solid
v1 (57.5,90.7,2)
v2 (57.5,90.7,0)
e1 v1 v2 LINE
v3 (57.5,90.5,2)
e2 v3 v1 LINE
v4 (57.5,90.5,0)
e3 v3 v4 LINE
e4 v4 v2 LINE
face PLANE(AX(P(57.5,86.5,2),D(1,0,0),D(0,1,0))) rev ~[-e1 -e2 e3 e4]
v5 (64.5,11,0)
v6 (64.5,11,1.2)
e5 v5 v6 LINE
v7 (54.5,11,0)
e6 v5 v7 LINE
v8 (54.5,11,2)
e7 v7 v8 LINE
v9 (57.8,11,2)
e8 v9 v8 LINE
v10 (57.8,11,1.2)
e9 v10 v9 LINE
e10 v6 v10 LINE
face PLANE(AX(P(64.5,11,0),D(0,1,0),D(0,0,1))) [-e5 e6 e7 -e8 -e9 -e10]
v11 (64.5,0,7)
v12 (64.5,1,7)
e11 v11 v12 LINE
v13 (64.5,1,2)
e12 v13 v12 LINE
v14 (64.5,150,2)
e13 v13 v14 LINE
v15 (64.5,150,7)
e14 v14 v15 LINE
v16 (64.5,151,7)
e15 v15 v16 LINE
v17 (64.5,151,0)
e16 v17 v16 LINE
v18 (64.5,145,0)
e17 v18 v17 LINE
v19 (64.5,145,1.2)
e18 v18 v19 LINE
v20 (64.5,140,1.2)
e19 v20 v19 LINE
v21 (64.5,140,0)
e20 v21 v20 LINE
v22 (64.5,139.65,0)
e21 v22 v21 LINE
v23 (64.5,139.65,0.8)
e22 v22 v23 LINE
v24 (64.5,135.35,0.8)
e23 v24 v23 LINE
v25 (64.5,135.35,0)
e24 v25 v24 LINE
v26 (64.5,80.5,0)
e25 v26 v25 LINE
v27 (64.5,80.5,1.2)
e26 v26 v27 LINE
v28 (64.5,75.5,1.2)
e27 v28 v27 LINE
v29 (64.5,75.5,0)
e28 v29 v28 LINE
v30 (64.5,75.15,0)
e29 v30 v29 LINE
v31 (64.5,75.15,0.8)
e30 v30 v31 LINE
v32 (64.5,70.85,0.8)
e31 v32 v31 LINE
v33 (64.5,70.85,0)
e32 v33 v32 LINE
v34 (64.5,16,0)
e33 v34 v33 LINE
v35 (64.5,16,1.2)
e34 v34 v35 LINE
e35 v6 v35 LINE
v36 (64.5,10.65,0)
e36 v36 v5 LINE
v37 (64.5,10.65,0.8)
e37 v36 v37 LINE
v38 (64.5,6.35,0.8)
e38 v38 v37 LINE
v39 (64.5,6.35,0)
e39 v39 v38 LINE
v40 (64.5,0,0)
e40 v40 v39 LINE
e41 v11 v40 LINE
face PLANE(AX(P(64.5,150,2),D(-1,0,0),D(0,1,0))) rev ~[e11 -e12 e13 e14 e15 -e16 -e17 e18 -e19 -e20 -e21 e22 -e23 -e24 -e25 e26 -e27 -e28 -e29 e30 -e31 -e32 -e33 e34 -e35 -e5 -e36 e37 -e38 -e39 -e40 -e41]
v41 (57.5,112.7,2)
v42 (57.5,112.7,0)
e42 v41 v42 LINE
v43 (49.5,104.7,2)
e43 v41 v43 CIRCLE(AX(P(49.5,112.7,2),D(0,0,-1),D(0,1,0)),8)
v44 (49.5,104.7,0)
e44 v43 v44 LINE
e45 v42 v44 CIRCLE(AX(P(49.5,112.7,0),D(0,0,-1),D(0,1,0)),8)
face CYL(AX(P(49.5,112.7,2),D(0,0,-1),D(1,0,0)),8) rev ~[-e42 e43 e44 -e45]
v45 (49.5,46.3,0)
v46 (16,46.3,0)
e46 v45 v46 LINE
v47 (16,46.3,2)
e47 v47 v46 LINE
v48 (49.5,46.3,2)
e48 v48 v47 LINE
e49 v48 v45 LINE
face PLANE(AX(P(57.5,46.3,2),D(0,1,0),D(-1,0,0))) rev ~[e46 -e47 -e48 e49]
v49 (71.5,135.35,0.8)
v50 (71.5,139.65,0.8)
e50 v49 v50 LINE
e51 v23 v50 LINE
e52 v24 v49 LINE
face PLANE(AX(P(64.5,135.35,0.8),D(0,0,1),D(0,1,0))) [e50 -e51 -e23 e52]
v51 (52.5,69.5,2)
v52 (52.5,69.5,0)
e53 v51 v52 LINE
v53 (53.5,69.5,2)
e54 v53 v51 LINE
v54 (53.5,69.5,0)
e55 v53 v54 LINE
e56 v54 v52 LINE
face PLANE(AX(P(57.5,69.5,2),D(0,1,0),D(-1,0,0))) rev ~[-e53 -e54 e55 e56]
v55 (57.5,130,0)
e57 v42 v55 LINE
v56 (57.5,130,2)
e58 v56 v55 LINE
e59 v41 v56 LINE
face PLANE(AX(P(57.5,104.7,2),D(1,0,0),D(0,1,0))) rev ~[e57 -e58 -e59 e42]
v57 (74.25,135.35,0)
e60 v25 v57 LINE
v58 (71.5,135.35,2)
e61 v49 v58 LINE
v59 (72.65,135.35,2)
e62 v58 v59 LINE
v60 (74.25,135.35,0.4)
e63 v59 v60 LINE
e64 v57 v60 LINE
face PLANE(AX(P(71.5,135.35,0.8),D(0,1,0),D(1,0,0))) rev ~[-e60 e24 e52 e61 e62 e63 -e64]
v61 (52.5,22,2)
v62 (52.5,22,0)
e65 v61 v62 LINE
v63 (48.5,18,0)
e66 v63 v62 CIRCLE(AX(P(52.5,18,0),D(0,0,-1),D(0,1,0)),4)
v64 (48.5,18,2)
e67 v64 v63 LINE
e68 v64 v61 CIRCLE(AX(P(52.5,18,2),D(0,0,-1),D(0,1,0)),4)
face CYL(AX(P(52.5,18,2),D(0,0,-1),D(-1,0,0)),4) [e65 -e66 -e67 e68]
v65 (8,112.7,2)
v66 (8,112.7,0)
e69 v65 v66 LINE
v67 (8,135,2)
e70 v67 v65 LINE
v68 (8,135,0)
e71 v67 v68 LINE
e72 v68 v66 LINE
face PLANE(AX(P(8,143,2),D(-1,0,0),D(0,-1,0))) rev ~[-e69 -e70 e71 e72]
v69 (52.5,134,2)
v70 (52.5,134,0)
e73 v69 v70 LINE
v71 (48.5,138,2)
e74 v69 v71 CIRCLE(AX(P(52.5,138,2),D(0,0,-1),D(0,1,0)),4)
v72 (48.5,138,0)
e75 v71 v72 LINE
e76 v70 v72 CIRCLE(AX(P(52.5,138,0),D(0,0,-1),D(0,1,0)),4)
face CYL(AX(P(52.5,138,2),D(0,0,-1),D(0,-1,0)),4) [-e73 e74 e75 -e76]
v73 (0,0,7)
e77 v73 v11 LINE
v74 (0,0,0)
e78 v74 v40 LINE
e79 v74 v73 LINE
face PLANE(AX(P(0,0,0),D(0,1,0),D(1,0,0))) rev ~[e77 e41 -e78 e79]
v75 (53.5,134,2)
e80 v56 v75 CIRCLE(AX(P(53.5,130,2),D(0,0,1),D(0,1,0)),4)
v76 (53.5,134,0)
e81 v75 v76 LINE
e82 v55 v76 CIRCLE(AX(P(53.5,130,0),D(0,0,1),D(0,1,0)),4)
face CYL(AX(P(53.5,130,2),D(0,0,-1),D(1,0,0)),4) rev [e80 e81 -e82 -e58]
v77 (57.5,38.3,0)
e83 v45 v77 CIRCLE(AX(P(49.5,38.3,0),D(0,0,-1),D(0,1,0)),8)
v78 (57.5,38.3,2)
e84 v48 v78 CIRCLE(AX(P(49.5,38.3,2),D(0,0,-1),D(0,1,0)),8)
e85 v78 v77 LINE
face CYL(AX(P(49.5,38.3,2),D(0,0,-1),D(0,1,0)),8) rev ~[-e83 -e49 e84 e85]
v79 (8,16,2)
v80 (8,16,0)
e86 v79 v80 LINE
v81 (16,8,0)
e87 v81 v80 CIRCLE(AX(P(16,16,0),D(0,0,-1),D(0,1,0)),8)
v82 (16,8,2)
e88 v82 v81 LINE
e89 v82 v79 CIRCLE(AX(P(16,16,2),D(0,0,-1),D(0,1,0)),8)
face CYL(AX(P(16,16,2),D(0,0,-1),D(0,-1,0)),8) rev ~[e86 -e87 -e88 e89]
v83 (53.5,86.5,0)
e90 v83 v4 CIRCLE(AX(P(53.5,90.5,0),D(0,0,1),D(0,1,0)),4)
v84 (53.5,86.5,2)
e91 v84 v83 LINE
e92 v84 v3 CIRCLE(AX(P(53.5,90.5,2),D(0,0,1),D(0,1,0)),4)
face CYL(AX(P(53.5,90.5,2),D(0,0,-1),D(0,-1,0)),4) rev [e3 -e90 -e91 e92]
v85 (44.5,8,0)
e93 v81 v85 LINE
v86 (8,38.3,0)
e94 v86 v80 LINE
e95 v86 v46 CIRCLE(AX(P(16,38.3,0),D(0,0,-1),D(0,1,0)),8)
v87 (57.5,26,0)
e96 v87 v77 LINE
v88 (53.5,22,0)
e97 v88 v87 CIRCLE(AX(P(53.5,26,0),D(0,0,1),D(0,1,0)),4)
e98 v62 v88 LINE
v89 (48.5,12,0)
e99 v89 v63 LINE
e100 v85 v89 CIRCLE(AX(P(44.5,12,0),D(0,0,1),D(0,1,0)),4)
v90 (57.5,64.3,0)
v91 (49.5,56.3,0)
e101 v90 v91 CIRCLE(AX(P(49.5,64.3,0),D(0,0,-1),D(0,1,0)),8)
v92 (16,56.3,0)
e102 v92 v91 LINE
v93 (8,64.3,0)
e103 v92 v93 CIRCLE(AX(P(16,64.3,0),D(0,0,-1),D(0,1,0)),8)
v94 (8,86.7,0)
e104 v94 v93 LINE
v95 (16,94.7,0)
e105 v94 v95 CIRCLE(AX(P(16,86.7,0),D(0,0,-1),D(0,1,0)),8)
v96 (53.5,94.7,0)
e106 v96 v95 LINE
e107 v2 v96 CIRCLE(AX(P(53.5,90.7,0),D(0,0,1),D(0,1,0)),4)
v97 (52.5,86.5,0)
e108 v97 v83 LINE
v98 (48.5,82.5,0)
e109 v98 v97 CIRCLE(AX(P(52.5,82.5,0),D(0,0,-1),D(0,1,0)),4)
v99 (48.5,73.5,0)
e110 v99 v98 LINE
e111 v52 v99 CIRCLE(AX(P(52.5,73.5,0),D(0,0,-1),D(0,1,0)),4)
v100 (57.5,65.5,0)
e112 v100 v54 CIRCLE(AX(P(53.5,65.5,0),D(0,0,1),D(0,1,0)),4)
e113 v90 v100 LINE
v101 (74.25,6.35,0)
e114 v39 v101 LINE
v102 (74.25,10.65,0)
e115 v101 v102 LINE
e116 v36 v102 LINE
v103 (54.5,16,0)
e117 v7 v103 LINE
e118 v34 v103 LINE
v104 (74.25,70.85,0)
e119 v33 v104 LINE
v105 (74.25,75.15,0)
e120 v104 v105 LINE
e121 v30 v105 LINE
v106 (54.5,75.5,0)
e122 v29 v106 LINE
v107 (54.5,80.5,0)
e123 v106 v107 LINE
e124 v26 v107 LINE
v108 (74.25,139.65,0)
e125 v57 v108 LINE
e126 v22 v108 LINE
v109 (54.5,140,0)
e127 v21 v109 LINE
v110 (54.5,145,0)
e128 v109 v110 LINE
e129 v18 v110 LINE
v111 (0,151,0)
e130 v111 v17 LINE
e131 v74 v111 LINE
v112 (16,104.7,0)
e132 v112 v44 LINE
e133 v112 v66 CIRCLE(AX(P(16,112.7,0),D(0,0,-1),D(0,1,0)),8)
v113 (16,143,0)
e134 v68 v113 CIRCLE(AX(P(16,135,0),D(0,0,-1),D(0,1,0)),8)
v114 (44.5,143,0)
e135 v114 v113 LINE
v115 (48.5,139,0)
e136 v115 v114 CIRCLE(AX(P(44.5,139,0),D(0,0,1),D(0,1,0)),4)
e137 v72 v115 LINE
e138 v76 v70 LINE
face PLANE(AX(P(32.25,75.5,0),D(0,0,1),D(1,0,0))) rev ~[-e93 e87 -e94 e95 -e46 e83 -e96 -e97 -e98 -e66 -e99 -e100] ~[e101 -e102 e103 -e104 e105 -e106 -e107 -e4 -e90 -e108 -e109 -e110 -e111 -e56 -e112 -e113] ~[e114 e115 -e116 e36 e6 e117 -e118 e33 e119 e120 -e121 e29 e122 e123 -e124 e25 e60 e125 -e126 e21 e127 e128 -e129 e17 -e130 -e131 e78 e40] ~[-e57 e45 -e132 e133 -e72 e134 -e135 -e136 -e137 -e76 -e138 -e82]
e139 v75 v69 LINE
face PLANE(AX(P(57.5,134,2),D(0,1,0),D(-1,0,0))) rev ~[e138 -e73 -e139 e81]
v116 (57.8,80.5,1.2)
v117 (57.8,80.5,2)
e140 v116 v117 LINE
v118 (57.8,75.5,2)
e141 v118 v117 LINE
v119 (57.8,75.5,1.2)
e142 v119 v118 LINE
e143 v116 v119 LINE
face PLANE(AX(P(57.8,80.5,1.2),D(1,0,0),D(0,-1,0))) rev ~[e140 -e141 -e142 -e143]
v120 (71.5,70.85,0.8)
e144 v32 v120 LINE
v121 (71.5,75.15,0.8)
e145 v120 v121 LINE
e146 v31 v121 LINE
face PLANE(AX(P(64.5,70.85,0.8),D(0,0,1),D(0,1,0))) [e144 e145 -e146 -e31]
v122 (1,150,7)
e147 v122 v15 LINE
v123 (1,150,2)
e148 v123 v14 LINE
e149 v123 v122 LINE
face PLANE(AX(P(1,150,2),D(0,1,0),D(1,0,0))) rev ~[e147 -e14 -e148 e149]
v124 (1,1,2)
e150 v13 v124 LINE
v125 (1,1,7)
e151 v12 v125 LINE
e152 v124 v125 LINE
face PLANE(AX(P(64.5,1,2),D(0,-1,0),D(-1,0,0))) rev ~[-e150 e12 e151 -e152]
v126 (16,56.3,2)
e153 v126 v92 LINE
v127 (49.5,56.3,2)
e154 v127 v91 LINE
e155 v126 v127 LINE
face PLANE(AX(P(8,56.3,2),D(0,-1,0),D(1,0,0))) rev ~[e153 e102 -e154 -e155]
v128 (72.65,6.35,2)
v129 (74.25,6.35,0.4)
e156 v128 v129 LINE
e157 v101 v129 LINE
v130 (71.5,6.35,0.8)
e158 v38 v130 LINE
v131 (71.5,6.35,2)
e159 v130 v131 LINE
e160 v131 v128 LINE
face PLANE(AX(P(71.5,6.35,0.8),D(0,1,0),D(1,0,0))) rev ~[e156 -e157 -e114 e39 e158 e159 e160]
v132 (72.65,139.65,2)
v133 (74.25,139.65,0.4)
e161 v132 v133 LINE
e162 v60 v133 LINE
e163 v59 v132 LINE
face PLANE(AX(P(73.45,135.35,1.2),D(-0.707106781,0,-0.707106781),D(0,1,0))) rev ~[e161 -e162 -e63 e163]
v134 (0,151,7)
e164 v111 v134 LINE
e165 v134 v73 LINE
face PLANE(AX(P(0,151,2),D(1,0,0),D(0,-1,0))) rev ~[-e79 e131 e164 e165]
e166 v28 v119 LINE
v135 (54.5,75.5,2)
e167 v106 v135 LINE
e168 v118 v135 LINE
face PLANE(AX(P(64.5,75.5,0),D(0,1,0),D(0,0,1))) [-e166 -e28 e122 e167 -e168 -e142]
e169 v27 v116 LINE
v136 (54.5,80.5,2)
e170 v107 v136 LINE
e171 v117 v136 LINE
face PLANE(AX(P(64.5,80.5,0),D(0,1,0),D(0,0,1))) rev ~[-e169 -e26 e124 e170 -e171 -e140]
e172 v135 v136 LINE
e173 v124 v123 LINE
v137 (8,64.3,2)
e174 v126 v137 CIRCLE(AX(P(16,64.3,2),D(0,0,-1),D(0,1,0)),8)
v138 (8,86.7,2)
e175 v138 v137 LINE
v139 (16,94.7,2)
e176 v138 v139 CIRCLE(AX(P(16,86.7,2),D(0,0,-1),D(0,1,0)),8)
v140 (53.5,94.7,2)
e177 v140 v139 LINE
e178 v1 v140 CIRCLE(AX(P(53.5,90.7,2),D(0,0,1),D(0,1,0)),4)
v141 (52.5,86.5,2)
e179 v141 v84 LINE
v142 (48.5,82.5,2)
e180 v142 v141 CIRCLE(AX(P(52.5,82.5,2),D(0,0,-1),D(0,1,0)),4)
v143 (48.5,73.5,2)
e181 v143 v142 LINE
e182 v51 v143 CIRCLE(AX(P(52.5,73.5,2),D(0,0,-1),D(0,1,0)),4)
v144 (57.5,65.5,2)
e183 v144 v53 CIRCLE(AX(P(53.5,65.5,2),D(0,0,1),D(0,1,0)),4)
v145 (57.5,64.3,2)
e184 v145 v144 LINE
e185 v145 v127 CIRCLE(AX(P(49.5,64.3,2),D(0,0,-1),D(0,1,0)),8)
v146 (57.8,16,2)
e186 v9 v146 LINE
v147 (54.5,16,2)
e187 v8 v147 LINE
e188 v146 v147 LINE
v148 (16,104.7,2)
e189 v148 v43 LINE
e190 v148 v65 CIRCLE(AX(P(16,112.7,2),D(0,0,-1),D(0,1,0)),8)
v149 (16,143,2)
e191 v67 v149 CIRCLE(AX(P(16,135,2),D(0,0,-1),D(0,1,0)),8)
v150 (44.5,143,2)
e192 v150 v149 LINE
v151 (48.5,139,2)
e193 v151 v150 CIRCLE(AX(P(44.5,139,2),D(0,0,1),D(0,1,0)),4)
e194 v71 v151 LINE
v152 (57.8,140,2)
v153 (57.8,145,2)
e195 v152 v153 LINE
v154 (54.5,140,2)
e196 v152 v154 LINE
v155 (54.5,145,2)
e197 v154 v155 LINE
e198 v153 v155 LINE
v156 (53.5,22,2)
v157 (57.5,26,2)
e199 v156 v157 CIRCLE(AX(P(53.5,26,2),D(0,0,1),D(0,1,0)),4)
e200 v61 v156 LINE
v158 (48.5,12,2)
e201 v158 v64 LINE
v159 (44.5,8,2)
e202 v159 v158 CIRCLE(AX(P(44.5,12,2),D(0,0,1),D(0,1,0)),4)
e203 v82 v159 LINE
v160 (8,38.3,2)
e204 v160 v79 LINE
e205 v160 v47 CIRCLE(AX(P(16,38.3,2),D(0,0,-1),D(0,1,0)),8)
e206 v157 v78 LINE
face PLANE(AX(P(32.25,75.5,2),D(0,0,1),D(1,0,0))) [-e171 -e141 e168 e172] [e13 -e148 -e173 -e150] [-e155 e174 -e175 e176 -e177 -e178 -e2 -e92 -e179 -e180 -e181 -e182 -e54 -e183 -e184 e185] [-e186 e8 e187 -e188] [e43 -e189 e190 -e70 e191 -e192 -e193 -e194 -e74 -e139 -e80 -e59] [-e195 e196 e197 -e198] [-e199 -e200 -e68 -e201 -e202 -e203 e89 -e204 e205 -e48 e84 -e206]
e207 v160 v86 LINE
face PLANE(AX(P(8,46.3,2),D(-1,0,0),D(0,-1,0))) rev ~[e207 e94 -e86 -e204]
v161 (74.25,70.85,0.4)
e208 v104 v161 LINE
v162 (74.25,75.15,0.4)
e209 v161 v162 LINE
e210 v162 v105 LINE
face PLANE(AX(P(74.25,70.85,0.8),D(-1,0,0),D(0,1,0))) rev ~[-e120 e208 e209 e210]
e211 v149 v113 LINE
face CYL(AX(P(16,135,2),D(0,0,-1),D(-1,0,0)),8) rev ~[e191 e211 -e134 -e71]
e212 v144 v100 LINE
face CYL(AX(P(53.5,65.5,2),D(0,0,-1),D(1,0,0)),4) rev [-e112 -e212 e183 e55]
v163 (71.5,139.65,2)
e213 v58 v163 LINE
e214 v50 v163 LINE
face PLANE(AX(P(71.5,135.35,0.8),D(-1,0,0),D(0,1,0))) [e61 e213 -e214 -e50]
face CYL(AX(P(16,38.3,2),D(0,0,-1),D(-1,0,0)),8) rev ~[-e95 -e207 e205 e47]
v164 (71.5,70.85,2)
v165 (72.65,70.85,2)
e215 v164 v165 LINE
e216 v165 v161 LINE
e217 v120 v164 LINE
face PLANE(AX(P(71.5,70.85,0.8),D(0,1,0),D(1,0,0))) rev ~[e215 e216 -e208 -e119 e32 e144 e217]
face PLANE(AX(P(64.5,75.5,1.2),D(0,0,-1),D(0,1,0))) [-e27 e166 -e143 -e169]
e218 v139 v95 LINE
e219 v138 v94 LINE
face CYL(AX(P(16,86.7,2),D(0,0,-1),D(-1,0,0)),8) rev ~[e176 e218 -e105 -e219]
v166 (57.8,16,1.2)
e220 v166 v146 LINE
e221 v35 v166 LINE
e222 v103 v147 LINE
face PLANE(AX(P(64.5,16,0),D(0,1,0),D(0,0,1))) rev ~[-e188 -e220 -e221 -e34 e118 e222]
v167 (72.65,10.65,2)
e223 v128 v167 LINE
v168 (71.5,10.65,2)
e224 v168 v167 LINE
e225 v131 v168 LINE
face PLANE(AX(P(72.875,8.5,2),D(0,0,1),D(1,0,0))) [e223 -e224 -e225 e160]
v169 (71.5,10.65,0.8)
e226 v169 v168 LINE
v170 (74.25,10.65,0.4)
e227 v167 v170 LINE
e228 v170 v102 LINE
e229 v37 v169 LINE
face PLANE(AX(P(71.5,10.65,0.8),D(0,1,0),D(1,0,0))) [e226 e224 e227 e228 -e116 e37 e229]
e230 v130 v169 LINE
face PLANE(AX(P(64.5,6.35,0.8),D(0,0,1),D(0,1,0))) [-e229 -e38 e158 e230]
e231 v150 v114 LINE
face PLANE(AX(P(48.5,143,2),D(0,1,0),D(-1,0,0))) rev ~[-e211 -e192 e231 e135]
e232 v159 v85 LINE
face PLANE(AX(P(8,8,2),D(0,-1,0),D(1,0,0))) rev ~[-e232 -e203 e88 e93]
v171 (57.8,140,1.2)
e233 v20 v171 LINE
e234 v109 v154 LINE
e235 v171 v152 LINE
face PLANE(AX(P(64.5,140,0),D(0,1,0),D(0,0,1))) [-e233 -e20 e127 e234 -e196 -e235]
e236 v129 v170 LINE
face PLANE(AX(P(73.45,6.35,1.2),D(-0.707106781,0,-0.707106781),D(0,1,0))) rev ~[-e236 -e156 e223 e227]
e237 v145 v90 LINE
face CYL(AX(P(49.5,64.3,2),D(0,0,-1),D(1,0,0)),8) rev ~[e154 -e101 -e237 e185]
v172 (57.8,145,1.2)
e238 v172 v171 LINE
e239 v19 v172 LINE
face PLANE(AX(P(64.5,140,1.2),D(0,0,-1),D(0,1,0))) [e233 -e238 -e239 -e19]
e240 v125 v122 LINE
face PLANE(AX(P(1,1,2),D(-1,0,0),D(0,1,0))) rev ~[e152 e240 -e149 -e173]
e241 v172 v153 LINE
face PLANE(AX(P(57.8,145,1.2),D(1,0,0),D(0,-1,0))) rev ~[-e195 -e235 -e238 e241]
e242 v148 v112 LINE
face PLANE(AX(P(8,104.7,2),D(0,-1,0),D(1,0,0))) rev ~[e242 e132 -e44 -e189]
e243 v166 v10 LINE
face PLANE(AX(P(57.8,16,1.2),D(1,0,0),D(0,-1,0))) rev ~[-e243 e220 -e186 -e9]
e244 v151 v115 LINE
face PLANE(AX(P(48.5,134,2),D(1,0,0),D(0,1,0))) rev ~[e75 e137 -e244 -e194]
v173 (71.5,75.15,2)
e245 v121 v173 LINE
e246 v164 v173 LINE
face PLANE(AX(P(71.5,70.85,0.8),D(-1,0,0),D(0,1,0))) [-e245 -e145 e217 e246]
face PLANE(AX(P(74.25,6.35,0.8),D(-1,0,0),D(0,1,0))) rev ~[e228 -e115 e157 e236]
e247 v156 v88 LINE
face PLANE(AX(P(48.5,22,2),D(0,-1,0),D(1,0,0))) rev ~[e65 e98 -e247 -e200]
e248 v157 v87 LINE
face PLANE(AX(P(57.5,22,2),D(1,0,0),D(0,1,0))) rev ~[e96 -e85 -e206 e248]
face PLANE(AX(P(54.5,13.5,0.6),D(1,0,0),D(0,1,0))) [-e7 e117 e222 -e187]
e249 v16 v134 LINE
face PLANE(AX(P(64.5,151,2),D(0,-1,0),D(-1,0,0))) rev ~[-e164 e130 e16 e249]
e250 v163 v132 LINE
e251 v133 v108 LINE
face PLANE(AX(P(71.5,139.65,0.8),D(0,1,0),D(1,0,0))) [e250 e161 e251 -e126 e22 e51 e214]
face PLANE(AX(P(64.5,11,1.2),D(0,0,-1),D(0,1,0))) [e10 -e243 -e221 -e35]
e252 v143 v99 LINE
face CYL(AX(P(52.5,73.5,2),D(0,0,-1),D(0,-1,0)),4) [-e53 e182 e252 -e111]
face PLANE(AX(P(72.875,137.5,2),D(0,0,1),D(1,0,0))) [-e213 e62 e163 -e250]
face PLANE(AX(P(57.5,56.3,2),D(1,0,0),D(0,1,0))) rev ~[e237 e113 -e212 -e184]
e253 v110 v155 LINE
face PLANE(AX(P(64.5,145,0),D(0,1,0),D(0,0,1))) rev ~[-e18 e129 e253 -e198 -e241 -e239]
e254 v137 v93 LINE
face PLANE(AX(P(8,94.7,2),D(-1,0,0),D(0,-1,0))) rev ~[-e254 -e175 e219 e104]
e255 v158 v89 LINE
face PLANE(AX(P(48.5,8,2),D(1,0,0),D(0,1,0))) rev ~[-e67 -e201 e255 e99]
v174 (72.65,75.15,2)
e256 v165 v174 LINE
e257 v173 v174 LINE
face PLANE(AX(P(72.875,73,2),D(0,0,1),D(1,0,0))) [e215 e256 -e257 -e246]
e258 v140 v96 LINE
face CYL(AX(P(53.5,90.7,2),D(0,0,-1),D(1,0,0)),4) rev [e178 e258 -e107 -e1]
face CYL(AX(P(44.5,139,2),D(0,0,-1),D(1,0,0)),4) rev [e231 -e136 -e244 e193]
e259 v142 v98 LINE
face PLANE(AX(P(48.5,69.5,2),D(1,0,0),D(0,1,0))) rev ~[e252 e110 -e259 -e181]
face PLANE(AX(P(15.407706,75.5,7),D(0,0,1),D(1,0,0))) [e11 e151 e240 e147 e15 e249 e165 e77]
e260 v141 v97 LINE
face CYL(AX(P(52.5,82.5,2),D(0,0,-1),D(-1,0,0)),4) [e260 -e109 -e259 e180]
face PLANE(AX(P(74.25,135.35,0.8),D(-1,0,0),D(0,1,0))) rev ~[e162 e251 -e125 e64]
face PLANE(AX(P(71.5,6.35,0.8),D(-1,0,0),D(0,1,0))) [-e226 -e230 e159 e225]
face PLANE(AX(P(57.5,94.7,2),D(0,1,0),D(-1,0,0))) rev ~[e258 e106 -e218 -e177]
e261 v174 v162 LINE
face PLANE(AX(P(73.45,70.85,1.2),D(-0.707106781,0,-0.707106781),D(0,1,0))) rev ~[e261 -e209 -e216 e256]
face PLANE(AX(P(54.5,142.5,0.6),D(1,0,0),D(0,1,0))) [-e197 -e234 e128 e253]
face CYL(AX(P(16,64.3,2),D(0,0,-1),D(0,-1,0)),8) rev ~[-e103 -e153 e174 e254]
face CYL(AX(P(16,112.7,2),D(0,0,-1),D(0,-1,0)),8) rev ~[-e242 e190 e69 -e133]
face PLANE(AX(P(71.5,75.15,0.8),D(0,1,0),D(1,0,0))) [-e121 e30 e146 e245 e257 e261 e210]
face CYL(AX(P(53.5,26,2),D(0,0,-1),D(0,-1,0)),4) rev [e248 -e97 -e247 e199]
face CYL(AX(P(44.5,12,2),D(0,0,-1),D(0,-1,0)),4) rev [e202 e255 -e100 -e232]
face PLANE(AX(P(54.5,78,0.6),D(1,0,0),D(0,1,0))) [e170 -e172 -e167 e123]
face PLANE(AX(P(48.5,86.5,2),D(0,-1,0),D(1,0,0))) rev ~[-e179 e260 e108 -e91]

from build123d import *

# Parameters (mm, degrees)
F0_W      = 64.5
F0_H      = 151
F1_DEPTH  = 2
F3_DEPTH  = 5
F4_W      = 5
F4_H      = 1.2
F5_DEPTH  = 10
F6_W      = 4.3
F6_H      = 0.8
F7_DEPTH  = 9.75
F8_W      = 2.75
F8_H      = 4.3
F9_DEPTH  = 1.2
F10_W     = 2.75
F10_H     = 4.3
F11_DEPTH = 1.2
F12_W     = 2.75
F12_H     = 4.3
F13_DEPTH = 1.2
F14_W     = 3.3
F14_H     = 5
F15_DEPTH = 5.801
F16_W     = 3.3
F16_H     = 5
F17_DEPTH = 5.801
F18_W     = 3.3
F18_H     = 5
F19_DEPTH = 5.801
F20_SIZE  = 1.6
F22_DEPTH = 2.001
F23_R     = 4
F24_R     = 8


with BuildPart() as f1:
    # F0 (on Top) → F1 (new body)
    with BuildSketch(Plane.XY):
        with Locations((32.25, 75.5)):
            Rectangle(F0_W, F0_H)
    extrude(amount=F1_DEPTH)

    # F2 (on face) → F3 (join)
    with BuildSketch(Plane.XY.offset(2)):
        Polygon((64.5, 150), (64.5, 151), (0, 151), (0, 0), (64.5, 0), (64.5, 1), (1, 1), (1, 150), align=None)
    extrude(amount=F3_DEPTH)

    # F4 (on face) → F5 (cut)
    with BuildSketch(Plane.YZ.offset(64.5)):
        with Locations((142.5, 0.6)):
            Rectangle(F4_W, F4_H)
        with Locations((78, 0.6)):
            Rectangle(F4_W, F4_H)
        with Locations((13.5, 0.6)):
            Rectangle(F4_W, F4_H)
    extrude(amount=-F5_DEPTH, mode=Mode.SUBTRACT)

    # F6 (on face) → F7 (join)
    with BuildSketch(Plane.YZ.offset(64.5)):
        with Locations((8.5, 0.4)):
            Rectangle(F6_W, F6_H)
        with Locations((73, 0.4)):
            Rectangle(F6_W, F6_H)
        with Locations((137.5, 0.4)):
            Rectangle(F6_W, F6_H)
    extrude(amount=F7_DEPTH)

    # F8 (on face) → F9 (join)
    with BuildSketch(Plane.XY.offset(0.8)):
        with Locations((72.875, 8.5)):
            Rectangle(F8_W, F8_H)
    extrude(amount=F9_DEPTH)

    # F10 (on face) → F11 (join)
    with BuildSketch(Plane.XY.offset(0.8)):
        with Locations((72.875, 73)):
            Rectangle(F10_W, F10_H)
    extrude(amount=F11_DEPTH)

    # F12 (on face) → F13 (join)
    with BuildSketch(Plane.XY.offset(0.8)):
        with Locations((72.875, 137.5)):
            Rectangle(F12_W, F12_H)
    extrude(amount=F13_DEPTH)

    # F14 (on face) → F15 (cut, through all)
    with BuildSketch(Plane(origin=(0, 0, 1.2), x_dir=(1, 0, 0), z_dir=(0, 0, -1))):
        with Locations((56.15, -13.5)):
            Rectangle(F14_W, F14_H)
    extrude(amount=-F15_DEPTH, mode=Mode.SUBTRACT)

    # F16 (on face) → F17 (cut, through all)
    with BuildSketch(Plane(origin=(0, 0, 1.2), x_dir=(1, 0, 0), z_dir=(0, 0, -1))):
        with Locations((56.15, -78)):
            Rectangle(F16_W, F16_H)
    extrude(amount=-F17_DEPTH, mode=Mode.SUBTRACT)

    # F18 (on face) → F19 (cut, through all)
    with BuildSketch(Plane(origin=(0, 0, 1.2), x_dir=(1, 0, 0), z_dir=(0, 0, -1))):
        with Locations((56.15, -142.5)):
            Rectangle(F18_W, F18_H)
    extrude(amount=-F19_DEPTH, mode=Mode.SUBTRACT)

    # F20
    f20_edges = [f1.edges().sort_by_distance(p)[0] for p in [
        (74.25, 8.5, 2),
        (74.25, 73, 2),
        (74.25, 137.5, 2),
    ]]
    chamfer(f20_edges, length=F20_SIZE)

    # F21 (on face) → F22 (cut, through all)
    with BuildSketch(Plane.XY.offset(2)):
        Polygon((8, 143), (8, 104.7), (57.5, 104.7), (57.5, 134), (48.5, 134), (48.5, 143), align=None)
        Polygon((8, 56.3), (57.5, 56.3), (57.5, 69.5), (48.5, 69.5), (48.5, 86.5), (57.5, 86.5), (57.5, 94.7), (8, 94.7), align=None)
        Polygon((8, 46.3), (8, 8), (48.5, 8), (48.5, 22), (57.5, 22), (57.5, 46.3), align=None)
    extrude(amount=-F22_DEPTH, mode=Mode.SUBTRACT)

    # F23
    f23_edges = [f1.edges().sort_by_distance(p)[0] for p in [
        (48.5, 134, 1),
        (48.5, 143, 1),
        (57.5, 134, 1),
        (57.5, 94.7, 1),
        (48.5, 86.5, 1),
        (48.5, 69.5, 1),
        (57.5, 69.5, 1),
        (48.5, 22, 1),
        (57.5, 86.5, 1),
        (57.5, 22, 1),
        (48.5, 8, 1),
    ]]
    fillet(f23_edges, radius=F23_R)

    # F24
    f24_edges = [f1.edges().sort_by_distance(p)[0] for p in [
        (8, 8, 1),
        (8, 56.3, 1),
        (8, 104.7, 1),
        (8, 46.3, 1),
        (8, 94.7, 1),
        (8, 143, 1),
        (57.5, 104.7, 1),
        (57.5, 56.3, 1),
        (57.5, 46.3, 1),
    ]]
    fillet(f24_edges, radius=F24_R)


solid = f1.part
